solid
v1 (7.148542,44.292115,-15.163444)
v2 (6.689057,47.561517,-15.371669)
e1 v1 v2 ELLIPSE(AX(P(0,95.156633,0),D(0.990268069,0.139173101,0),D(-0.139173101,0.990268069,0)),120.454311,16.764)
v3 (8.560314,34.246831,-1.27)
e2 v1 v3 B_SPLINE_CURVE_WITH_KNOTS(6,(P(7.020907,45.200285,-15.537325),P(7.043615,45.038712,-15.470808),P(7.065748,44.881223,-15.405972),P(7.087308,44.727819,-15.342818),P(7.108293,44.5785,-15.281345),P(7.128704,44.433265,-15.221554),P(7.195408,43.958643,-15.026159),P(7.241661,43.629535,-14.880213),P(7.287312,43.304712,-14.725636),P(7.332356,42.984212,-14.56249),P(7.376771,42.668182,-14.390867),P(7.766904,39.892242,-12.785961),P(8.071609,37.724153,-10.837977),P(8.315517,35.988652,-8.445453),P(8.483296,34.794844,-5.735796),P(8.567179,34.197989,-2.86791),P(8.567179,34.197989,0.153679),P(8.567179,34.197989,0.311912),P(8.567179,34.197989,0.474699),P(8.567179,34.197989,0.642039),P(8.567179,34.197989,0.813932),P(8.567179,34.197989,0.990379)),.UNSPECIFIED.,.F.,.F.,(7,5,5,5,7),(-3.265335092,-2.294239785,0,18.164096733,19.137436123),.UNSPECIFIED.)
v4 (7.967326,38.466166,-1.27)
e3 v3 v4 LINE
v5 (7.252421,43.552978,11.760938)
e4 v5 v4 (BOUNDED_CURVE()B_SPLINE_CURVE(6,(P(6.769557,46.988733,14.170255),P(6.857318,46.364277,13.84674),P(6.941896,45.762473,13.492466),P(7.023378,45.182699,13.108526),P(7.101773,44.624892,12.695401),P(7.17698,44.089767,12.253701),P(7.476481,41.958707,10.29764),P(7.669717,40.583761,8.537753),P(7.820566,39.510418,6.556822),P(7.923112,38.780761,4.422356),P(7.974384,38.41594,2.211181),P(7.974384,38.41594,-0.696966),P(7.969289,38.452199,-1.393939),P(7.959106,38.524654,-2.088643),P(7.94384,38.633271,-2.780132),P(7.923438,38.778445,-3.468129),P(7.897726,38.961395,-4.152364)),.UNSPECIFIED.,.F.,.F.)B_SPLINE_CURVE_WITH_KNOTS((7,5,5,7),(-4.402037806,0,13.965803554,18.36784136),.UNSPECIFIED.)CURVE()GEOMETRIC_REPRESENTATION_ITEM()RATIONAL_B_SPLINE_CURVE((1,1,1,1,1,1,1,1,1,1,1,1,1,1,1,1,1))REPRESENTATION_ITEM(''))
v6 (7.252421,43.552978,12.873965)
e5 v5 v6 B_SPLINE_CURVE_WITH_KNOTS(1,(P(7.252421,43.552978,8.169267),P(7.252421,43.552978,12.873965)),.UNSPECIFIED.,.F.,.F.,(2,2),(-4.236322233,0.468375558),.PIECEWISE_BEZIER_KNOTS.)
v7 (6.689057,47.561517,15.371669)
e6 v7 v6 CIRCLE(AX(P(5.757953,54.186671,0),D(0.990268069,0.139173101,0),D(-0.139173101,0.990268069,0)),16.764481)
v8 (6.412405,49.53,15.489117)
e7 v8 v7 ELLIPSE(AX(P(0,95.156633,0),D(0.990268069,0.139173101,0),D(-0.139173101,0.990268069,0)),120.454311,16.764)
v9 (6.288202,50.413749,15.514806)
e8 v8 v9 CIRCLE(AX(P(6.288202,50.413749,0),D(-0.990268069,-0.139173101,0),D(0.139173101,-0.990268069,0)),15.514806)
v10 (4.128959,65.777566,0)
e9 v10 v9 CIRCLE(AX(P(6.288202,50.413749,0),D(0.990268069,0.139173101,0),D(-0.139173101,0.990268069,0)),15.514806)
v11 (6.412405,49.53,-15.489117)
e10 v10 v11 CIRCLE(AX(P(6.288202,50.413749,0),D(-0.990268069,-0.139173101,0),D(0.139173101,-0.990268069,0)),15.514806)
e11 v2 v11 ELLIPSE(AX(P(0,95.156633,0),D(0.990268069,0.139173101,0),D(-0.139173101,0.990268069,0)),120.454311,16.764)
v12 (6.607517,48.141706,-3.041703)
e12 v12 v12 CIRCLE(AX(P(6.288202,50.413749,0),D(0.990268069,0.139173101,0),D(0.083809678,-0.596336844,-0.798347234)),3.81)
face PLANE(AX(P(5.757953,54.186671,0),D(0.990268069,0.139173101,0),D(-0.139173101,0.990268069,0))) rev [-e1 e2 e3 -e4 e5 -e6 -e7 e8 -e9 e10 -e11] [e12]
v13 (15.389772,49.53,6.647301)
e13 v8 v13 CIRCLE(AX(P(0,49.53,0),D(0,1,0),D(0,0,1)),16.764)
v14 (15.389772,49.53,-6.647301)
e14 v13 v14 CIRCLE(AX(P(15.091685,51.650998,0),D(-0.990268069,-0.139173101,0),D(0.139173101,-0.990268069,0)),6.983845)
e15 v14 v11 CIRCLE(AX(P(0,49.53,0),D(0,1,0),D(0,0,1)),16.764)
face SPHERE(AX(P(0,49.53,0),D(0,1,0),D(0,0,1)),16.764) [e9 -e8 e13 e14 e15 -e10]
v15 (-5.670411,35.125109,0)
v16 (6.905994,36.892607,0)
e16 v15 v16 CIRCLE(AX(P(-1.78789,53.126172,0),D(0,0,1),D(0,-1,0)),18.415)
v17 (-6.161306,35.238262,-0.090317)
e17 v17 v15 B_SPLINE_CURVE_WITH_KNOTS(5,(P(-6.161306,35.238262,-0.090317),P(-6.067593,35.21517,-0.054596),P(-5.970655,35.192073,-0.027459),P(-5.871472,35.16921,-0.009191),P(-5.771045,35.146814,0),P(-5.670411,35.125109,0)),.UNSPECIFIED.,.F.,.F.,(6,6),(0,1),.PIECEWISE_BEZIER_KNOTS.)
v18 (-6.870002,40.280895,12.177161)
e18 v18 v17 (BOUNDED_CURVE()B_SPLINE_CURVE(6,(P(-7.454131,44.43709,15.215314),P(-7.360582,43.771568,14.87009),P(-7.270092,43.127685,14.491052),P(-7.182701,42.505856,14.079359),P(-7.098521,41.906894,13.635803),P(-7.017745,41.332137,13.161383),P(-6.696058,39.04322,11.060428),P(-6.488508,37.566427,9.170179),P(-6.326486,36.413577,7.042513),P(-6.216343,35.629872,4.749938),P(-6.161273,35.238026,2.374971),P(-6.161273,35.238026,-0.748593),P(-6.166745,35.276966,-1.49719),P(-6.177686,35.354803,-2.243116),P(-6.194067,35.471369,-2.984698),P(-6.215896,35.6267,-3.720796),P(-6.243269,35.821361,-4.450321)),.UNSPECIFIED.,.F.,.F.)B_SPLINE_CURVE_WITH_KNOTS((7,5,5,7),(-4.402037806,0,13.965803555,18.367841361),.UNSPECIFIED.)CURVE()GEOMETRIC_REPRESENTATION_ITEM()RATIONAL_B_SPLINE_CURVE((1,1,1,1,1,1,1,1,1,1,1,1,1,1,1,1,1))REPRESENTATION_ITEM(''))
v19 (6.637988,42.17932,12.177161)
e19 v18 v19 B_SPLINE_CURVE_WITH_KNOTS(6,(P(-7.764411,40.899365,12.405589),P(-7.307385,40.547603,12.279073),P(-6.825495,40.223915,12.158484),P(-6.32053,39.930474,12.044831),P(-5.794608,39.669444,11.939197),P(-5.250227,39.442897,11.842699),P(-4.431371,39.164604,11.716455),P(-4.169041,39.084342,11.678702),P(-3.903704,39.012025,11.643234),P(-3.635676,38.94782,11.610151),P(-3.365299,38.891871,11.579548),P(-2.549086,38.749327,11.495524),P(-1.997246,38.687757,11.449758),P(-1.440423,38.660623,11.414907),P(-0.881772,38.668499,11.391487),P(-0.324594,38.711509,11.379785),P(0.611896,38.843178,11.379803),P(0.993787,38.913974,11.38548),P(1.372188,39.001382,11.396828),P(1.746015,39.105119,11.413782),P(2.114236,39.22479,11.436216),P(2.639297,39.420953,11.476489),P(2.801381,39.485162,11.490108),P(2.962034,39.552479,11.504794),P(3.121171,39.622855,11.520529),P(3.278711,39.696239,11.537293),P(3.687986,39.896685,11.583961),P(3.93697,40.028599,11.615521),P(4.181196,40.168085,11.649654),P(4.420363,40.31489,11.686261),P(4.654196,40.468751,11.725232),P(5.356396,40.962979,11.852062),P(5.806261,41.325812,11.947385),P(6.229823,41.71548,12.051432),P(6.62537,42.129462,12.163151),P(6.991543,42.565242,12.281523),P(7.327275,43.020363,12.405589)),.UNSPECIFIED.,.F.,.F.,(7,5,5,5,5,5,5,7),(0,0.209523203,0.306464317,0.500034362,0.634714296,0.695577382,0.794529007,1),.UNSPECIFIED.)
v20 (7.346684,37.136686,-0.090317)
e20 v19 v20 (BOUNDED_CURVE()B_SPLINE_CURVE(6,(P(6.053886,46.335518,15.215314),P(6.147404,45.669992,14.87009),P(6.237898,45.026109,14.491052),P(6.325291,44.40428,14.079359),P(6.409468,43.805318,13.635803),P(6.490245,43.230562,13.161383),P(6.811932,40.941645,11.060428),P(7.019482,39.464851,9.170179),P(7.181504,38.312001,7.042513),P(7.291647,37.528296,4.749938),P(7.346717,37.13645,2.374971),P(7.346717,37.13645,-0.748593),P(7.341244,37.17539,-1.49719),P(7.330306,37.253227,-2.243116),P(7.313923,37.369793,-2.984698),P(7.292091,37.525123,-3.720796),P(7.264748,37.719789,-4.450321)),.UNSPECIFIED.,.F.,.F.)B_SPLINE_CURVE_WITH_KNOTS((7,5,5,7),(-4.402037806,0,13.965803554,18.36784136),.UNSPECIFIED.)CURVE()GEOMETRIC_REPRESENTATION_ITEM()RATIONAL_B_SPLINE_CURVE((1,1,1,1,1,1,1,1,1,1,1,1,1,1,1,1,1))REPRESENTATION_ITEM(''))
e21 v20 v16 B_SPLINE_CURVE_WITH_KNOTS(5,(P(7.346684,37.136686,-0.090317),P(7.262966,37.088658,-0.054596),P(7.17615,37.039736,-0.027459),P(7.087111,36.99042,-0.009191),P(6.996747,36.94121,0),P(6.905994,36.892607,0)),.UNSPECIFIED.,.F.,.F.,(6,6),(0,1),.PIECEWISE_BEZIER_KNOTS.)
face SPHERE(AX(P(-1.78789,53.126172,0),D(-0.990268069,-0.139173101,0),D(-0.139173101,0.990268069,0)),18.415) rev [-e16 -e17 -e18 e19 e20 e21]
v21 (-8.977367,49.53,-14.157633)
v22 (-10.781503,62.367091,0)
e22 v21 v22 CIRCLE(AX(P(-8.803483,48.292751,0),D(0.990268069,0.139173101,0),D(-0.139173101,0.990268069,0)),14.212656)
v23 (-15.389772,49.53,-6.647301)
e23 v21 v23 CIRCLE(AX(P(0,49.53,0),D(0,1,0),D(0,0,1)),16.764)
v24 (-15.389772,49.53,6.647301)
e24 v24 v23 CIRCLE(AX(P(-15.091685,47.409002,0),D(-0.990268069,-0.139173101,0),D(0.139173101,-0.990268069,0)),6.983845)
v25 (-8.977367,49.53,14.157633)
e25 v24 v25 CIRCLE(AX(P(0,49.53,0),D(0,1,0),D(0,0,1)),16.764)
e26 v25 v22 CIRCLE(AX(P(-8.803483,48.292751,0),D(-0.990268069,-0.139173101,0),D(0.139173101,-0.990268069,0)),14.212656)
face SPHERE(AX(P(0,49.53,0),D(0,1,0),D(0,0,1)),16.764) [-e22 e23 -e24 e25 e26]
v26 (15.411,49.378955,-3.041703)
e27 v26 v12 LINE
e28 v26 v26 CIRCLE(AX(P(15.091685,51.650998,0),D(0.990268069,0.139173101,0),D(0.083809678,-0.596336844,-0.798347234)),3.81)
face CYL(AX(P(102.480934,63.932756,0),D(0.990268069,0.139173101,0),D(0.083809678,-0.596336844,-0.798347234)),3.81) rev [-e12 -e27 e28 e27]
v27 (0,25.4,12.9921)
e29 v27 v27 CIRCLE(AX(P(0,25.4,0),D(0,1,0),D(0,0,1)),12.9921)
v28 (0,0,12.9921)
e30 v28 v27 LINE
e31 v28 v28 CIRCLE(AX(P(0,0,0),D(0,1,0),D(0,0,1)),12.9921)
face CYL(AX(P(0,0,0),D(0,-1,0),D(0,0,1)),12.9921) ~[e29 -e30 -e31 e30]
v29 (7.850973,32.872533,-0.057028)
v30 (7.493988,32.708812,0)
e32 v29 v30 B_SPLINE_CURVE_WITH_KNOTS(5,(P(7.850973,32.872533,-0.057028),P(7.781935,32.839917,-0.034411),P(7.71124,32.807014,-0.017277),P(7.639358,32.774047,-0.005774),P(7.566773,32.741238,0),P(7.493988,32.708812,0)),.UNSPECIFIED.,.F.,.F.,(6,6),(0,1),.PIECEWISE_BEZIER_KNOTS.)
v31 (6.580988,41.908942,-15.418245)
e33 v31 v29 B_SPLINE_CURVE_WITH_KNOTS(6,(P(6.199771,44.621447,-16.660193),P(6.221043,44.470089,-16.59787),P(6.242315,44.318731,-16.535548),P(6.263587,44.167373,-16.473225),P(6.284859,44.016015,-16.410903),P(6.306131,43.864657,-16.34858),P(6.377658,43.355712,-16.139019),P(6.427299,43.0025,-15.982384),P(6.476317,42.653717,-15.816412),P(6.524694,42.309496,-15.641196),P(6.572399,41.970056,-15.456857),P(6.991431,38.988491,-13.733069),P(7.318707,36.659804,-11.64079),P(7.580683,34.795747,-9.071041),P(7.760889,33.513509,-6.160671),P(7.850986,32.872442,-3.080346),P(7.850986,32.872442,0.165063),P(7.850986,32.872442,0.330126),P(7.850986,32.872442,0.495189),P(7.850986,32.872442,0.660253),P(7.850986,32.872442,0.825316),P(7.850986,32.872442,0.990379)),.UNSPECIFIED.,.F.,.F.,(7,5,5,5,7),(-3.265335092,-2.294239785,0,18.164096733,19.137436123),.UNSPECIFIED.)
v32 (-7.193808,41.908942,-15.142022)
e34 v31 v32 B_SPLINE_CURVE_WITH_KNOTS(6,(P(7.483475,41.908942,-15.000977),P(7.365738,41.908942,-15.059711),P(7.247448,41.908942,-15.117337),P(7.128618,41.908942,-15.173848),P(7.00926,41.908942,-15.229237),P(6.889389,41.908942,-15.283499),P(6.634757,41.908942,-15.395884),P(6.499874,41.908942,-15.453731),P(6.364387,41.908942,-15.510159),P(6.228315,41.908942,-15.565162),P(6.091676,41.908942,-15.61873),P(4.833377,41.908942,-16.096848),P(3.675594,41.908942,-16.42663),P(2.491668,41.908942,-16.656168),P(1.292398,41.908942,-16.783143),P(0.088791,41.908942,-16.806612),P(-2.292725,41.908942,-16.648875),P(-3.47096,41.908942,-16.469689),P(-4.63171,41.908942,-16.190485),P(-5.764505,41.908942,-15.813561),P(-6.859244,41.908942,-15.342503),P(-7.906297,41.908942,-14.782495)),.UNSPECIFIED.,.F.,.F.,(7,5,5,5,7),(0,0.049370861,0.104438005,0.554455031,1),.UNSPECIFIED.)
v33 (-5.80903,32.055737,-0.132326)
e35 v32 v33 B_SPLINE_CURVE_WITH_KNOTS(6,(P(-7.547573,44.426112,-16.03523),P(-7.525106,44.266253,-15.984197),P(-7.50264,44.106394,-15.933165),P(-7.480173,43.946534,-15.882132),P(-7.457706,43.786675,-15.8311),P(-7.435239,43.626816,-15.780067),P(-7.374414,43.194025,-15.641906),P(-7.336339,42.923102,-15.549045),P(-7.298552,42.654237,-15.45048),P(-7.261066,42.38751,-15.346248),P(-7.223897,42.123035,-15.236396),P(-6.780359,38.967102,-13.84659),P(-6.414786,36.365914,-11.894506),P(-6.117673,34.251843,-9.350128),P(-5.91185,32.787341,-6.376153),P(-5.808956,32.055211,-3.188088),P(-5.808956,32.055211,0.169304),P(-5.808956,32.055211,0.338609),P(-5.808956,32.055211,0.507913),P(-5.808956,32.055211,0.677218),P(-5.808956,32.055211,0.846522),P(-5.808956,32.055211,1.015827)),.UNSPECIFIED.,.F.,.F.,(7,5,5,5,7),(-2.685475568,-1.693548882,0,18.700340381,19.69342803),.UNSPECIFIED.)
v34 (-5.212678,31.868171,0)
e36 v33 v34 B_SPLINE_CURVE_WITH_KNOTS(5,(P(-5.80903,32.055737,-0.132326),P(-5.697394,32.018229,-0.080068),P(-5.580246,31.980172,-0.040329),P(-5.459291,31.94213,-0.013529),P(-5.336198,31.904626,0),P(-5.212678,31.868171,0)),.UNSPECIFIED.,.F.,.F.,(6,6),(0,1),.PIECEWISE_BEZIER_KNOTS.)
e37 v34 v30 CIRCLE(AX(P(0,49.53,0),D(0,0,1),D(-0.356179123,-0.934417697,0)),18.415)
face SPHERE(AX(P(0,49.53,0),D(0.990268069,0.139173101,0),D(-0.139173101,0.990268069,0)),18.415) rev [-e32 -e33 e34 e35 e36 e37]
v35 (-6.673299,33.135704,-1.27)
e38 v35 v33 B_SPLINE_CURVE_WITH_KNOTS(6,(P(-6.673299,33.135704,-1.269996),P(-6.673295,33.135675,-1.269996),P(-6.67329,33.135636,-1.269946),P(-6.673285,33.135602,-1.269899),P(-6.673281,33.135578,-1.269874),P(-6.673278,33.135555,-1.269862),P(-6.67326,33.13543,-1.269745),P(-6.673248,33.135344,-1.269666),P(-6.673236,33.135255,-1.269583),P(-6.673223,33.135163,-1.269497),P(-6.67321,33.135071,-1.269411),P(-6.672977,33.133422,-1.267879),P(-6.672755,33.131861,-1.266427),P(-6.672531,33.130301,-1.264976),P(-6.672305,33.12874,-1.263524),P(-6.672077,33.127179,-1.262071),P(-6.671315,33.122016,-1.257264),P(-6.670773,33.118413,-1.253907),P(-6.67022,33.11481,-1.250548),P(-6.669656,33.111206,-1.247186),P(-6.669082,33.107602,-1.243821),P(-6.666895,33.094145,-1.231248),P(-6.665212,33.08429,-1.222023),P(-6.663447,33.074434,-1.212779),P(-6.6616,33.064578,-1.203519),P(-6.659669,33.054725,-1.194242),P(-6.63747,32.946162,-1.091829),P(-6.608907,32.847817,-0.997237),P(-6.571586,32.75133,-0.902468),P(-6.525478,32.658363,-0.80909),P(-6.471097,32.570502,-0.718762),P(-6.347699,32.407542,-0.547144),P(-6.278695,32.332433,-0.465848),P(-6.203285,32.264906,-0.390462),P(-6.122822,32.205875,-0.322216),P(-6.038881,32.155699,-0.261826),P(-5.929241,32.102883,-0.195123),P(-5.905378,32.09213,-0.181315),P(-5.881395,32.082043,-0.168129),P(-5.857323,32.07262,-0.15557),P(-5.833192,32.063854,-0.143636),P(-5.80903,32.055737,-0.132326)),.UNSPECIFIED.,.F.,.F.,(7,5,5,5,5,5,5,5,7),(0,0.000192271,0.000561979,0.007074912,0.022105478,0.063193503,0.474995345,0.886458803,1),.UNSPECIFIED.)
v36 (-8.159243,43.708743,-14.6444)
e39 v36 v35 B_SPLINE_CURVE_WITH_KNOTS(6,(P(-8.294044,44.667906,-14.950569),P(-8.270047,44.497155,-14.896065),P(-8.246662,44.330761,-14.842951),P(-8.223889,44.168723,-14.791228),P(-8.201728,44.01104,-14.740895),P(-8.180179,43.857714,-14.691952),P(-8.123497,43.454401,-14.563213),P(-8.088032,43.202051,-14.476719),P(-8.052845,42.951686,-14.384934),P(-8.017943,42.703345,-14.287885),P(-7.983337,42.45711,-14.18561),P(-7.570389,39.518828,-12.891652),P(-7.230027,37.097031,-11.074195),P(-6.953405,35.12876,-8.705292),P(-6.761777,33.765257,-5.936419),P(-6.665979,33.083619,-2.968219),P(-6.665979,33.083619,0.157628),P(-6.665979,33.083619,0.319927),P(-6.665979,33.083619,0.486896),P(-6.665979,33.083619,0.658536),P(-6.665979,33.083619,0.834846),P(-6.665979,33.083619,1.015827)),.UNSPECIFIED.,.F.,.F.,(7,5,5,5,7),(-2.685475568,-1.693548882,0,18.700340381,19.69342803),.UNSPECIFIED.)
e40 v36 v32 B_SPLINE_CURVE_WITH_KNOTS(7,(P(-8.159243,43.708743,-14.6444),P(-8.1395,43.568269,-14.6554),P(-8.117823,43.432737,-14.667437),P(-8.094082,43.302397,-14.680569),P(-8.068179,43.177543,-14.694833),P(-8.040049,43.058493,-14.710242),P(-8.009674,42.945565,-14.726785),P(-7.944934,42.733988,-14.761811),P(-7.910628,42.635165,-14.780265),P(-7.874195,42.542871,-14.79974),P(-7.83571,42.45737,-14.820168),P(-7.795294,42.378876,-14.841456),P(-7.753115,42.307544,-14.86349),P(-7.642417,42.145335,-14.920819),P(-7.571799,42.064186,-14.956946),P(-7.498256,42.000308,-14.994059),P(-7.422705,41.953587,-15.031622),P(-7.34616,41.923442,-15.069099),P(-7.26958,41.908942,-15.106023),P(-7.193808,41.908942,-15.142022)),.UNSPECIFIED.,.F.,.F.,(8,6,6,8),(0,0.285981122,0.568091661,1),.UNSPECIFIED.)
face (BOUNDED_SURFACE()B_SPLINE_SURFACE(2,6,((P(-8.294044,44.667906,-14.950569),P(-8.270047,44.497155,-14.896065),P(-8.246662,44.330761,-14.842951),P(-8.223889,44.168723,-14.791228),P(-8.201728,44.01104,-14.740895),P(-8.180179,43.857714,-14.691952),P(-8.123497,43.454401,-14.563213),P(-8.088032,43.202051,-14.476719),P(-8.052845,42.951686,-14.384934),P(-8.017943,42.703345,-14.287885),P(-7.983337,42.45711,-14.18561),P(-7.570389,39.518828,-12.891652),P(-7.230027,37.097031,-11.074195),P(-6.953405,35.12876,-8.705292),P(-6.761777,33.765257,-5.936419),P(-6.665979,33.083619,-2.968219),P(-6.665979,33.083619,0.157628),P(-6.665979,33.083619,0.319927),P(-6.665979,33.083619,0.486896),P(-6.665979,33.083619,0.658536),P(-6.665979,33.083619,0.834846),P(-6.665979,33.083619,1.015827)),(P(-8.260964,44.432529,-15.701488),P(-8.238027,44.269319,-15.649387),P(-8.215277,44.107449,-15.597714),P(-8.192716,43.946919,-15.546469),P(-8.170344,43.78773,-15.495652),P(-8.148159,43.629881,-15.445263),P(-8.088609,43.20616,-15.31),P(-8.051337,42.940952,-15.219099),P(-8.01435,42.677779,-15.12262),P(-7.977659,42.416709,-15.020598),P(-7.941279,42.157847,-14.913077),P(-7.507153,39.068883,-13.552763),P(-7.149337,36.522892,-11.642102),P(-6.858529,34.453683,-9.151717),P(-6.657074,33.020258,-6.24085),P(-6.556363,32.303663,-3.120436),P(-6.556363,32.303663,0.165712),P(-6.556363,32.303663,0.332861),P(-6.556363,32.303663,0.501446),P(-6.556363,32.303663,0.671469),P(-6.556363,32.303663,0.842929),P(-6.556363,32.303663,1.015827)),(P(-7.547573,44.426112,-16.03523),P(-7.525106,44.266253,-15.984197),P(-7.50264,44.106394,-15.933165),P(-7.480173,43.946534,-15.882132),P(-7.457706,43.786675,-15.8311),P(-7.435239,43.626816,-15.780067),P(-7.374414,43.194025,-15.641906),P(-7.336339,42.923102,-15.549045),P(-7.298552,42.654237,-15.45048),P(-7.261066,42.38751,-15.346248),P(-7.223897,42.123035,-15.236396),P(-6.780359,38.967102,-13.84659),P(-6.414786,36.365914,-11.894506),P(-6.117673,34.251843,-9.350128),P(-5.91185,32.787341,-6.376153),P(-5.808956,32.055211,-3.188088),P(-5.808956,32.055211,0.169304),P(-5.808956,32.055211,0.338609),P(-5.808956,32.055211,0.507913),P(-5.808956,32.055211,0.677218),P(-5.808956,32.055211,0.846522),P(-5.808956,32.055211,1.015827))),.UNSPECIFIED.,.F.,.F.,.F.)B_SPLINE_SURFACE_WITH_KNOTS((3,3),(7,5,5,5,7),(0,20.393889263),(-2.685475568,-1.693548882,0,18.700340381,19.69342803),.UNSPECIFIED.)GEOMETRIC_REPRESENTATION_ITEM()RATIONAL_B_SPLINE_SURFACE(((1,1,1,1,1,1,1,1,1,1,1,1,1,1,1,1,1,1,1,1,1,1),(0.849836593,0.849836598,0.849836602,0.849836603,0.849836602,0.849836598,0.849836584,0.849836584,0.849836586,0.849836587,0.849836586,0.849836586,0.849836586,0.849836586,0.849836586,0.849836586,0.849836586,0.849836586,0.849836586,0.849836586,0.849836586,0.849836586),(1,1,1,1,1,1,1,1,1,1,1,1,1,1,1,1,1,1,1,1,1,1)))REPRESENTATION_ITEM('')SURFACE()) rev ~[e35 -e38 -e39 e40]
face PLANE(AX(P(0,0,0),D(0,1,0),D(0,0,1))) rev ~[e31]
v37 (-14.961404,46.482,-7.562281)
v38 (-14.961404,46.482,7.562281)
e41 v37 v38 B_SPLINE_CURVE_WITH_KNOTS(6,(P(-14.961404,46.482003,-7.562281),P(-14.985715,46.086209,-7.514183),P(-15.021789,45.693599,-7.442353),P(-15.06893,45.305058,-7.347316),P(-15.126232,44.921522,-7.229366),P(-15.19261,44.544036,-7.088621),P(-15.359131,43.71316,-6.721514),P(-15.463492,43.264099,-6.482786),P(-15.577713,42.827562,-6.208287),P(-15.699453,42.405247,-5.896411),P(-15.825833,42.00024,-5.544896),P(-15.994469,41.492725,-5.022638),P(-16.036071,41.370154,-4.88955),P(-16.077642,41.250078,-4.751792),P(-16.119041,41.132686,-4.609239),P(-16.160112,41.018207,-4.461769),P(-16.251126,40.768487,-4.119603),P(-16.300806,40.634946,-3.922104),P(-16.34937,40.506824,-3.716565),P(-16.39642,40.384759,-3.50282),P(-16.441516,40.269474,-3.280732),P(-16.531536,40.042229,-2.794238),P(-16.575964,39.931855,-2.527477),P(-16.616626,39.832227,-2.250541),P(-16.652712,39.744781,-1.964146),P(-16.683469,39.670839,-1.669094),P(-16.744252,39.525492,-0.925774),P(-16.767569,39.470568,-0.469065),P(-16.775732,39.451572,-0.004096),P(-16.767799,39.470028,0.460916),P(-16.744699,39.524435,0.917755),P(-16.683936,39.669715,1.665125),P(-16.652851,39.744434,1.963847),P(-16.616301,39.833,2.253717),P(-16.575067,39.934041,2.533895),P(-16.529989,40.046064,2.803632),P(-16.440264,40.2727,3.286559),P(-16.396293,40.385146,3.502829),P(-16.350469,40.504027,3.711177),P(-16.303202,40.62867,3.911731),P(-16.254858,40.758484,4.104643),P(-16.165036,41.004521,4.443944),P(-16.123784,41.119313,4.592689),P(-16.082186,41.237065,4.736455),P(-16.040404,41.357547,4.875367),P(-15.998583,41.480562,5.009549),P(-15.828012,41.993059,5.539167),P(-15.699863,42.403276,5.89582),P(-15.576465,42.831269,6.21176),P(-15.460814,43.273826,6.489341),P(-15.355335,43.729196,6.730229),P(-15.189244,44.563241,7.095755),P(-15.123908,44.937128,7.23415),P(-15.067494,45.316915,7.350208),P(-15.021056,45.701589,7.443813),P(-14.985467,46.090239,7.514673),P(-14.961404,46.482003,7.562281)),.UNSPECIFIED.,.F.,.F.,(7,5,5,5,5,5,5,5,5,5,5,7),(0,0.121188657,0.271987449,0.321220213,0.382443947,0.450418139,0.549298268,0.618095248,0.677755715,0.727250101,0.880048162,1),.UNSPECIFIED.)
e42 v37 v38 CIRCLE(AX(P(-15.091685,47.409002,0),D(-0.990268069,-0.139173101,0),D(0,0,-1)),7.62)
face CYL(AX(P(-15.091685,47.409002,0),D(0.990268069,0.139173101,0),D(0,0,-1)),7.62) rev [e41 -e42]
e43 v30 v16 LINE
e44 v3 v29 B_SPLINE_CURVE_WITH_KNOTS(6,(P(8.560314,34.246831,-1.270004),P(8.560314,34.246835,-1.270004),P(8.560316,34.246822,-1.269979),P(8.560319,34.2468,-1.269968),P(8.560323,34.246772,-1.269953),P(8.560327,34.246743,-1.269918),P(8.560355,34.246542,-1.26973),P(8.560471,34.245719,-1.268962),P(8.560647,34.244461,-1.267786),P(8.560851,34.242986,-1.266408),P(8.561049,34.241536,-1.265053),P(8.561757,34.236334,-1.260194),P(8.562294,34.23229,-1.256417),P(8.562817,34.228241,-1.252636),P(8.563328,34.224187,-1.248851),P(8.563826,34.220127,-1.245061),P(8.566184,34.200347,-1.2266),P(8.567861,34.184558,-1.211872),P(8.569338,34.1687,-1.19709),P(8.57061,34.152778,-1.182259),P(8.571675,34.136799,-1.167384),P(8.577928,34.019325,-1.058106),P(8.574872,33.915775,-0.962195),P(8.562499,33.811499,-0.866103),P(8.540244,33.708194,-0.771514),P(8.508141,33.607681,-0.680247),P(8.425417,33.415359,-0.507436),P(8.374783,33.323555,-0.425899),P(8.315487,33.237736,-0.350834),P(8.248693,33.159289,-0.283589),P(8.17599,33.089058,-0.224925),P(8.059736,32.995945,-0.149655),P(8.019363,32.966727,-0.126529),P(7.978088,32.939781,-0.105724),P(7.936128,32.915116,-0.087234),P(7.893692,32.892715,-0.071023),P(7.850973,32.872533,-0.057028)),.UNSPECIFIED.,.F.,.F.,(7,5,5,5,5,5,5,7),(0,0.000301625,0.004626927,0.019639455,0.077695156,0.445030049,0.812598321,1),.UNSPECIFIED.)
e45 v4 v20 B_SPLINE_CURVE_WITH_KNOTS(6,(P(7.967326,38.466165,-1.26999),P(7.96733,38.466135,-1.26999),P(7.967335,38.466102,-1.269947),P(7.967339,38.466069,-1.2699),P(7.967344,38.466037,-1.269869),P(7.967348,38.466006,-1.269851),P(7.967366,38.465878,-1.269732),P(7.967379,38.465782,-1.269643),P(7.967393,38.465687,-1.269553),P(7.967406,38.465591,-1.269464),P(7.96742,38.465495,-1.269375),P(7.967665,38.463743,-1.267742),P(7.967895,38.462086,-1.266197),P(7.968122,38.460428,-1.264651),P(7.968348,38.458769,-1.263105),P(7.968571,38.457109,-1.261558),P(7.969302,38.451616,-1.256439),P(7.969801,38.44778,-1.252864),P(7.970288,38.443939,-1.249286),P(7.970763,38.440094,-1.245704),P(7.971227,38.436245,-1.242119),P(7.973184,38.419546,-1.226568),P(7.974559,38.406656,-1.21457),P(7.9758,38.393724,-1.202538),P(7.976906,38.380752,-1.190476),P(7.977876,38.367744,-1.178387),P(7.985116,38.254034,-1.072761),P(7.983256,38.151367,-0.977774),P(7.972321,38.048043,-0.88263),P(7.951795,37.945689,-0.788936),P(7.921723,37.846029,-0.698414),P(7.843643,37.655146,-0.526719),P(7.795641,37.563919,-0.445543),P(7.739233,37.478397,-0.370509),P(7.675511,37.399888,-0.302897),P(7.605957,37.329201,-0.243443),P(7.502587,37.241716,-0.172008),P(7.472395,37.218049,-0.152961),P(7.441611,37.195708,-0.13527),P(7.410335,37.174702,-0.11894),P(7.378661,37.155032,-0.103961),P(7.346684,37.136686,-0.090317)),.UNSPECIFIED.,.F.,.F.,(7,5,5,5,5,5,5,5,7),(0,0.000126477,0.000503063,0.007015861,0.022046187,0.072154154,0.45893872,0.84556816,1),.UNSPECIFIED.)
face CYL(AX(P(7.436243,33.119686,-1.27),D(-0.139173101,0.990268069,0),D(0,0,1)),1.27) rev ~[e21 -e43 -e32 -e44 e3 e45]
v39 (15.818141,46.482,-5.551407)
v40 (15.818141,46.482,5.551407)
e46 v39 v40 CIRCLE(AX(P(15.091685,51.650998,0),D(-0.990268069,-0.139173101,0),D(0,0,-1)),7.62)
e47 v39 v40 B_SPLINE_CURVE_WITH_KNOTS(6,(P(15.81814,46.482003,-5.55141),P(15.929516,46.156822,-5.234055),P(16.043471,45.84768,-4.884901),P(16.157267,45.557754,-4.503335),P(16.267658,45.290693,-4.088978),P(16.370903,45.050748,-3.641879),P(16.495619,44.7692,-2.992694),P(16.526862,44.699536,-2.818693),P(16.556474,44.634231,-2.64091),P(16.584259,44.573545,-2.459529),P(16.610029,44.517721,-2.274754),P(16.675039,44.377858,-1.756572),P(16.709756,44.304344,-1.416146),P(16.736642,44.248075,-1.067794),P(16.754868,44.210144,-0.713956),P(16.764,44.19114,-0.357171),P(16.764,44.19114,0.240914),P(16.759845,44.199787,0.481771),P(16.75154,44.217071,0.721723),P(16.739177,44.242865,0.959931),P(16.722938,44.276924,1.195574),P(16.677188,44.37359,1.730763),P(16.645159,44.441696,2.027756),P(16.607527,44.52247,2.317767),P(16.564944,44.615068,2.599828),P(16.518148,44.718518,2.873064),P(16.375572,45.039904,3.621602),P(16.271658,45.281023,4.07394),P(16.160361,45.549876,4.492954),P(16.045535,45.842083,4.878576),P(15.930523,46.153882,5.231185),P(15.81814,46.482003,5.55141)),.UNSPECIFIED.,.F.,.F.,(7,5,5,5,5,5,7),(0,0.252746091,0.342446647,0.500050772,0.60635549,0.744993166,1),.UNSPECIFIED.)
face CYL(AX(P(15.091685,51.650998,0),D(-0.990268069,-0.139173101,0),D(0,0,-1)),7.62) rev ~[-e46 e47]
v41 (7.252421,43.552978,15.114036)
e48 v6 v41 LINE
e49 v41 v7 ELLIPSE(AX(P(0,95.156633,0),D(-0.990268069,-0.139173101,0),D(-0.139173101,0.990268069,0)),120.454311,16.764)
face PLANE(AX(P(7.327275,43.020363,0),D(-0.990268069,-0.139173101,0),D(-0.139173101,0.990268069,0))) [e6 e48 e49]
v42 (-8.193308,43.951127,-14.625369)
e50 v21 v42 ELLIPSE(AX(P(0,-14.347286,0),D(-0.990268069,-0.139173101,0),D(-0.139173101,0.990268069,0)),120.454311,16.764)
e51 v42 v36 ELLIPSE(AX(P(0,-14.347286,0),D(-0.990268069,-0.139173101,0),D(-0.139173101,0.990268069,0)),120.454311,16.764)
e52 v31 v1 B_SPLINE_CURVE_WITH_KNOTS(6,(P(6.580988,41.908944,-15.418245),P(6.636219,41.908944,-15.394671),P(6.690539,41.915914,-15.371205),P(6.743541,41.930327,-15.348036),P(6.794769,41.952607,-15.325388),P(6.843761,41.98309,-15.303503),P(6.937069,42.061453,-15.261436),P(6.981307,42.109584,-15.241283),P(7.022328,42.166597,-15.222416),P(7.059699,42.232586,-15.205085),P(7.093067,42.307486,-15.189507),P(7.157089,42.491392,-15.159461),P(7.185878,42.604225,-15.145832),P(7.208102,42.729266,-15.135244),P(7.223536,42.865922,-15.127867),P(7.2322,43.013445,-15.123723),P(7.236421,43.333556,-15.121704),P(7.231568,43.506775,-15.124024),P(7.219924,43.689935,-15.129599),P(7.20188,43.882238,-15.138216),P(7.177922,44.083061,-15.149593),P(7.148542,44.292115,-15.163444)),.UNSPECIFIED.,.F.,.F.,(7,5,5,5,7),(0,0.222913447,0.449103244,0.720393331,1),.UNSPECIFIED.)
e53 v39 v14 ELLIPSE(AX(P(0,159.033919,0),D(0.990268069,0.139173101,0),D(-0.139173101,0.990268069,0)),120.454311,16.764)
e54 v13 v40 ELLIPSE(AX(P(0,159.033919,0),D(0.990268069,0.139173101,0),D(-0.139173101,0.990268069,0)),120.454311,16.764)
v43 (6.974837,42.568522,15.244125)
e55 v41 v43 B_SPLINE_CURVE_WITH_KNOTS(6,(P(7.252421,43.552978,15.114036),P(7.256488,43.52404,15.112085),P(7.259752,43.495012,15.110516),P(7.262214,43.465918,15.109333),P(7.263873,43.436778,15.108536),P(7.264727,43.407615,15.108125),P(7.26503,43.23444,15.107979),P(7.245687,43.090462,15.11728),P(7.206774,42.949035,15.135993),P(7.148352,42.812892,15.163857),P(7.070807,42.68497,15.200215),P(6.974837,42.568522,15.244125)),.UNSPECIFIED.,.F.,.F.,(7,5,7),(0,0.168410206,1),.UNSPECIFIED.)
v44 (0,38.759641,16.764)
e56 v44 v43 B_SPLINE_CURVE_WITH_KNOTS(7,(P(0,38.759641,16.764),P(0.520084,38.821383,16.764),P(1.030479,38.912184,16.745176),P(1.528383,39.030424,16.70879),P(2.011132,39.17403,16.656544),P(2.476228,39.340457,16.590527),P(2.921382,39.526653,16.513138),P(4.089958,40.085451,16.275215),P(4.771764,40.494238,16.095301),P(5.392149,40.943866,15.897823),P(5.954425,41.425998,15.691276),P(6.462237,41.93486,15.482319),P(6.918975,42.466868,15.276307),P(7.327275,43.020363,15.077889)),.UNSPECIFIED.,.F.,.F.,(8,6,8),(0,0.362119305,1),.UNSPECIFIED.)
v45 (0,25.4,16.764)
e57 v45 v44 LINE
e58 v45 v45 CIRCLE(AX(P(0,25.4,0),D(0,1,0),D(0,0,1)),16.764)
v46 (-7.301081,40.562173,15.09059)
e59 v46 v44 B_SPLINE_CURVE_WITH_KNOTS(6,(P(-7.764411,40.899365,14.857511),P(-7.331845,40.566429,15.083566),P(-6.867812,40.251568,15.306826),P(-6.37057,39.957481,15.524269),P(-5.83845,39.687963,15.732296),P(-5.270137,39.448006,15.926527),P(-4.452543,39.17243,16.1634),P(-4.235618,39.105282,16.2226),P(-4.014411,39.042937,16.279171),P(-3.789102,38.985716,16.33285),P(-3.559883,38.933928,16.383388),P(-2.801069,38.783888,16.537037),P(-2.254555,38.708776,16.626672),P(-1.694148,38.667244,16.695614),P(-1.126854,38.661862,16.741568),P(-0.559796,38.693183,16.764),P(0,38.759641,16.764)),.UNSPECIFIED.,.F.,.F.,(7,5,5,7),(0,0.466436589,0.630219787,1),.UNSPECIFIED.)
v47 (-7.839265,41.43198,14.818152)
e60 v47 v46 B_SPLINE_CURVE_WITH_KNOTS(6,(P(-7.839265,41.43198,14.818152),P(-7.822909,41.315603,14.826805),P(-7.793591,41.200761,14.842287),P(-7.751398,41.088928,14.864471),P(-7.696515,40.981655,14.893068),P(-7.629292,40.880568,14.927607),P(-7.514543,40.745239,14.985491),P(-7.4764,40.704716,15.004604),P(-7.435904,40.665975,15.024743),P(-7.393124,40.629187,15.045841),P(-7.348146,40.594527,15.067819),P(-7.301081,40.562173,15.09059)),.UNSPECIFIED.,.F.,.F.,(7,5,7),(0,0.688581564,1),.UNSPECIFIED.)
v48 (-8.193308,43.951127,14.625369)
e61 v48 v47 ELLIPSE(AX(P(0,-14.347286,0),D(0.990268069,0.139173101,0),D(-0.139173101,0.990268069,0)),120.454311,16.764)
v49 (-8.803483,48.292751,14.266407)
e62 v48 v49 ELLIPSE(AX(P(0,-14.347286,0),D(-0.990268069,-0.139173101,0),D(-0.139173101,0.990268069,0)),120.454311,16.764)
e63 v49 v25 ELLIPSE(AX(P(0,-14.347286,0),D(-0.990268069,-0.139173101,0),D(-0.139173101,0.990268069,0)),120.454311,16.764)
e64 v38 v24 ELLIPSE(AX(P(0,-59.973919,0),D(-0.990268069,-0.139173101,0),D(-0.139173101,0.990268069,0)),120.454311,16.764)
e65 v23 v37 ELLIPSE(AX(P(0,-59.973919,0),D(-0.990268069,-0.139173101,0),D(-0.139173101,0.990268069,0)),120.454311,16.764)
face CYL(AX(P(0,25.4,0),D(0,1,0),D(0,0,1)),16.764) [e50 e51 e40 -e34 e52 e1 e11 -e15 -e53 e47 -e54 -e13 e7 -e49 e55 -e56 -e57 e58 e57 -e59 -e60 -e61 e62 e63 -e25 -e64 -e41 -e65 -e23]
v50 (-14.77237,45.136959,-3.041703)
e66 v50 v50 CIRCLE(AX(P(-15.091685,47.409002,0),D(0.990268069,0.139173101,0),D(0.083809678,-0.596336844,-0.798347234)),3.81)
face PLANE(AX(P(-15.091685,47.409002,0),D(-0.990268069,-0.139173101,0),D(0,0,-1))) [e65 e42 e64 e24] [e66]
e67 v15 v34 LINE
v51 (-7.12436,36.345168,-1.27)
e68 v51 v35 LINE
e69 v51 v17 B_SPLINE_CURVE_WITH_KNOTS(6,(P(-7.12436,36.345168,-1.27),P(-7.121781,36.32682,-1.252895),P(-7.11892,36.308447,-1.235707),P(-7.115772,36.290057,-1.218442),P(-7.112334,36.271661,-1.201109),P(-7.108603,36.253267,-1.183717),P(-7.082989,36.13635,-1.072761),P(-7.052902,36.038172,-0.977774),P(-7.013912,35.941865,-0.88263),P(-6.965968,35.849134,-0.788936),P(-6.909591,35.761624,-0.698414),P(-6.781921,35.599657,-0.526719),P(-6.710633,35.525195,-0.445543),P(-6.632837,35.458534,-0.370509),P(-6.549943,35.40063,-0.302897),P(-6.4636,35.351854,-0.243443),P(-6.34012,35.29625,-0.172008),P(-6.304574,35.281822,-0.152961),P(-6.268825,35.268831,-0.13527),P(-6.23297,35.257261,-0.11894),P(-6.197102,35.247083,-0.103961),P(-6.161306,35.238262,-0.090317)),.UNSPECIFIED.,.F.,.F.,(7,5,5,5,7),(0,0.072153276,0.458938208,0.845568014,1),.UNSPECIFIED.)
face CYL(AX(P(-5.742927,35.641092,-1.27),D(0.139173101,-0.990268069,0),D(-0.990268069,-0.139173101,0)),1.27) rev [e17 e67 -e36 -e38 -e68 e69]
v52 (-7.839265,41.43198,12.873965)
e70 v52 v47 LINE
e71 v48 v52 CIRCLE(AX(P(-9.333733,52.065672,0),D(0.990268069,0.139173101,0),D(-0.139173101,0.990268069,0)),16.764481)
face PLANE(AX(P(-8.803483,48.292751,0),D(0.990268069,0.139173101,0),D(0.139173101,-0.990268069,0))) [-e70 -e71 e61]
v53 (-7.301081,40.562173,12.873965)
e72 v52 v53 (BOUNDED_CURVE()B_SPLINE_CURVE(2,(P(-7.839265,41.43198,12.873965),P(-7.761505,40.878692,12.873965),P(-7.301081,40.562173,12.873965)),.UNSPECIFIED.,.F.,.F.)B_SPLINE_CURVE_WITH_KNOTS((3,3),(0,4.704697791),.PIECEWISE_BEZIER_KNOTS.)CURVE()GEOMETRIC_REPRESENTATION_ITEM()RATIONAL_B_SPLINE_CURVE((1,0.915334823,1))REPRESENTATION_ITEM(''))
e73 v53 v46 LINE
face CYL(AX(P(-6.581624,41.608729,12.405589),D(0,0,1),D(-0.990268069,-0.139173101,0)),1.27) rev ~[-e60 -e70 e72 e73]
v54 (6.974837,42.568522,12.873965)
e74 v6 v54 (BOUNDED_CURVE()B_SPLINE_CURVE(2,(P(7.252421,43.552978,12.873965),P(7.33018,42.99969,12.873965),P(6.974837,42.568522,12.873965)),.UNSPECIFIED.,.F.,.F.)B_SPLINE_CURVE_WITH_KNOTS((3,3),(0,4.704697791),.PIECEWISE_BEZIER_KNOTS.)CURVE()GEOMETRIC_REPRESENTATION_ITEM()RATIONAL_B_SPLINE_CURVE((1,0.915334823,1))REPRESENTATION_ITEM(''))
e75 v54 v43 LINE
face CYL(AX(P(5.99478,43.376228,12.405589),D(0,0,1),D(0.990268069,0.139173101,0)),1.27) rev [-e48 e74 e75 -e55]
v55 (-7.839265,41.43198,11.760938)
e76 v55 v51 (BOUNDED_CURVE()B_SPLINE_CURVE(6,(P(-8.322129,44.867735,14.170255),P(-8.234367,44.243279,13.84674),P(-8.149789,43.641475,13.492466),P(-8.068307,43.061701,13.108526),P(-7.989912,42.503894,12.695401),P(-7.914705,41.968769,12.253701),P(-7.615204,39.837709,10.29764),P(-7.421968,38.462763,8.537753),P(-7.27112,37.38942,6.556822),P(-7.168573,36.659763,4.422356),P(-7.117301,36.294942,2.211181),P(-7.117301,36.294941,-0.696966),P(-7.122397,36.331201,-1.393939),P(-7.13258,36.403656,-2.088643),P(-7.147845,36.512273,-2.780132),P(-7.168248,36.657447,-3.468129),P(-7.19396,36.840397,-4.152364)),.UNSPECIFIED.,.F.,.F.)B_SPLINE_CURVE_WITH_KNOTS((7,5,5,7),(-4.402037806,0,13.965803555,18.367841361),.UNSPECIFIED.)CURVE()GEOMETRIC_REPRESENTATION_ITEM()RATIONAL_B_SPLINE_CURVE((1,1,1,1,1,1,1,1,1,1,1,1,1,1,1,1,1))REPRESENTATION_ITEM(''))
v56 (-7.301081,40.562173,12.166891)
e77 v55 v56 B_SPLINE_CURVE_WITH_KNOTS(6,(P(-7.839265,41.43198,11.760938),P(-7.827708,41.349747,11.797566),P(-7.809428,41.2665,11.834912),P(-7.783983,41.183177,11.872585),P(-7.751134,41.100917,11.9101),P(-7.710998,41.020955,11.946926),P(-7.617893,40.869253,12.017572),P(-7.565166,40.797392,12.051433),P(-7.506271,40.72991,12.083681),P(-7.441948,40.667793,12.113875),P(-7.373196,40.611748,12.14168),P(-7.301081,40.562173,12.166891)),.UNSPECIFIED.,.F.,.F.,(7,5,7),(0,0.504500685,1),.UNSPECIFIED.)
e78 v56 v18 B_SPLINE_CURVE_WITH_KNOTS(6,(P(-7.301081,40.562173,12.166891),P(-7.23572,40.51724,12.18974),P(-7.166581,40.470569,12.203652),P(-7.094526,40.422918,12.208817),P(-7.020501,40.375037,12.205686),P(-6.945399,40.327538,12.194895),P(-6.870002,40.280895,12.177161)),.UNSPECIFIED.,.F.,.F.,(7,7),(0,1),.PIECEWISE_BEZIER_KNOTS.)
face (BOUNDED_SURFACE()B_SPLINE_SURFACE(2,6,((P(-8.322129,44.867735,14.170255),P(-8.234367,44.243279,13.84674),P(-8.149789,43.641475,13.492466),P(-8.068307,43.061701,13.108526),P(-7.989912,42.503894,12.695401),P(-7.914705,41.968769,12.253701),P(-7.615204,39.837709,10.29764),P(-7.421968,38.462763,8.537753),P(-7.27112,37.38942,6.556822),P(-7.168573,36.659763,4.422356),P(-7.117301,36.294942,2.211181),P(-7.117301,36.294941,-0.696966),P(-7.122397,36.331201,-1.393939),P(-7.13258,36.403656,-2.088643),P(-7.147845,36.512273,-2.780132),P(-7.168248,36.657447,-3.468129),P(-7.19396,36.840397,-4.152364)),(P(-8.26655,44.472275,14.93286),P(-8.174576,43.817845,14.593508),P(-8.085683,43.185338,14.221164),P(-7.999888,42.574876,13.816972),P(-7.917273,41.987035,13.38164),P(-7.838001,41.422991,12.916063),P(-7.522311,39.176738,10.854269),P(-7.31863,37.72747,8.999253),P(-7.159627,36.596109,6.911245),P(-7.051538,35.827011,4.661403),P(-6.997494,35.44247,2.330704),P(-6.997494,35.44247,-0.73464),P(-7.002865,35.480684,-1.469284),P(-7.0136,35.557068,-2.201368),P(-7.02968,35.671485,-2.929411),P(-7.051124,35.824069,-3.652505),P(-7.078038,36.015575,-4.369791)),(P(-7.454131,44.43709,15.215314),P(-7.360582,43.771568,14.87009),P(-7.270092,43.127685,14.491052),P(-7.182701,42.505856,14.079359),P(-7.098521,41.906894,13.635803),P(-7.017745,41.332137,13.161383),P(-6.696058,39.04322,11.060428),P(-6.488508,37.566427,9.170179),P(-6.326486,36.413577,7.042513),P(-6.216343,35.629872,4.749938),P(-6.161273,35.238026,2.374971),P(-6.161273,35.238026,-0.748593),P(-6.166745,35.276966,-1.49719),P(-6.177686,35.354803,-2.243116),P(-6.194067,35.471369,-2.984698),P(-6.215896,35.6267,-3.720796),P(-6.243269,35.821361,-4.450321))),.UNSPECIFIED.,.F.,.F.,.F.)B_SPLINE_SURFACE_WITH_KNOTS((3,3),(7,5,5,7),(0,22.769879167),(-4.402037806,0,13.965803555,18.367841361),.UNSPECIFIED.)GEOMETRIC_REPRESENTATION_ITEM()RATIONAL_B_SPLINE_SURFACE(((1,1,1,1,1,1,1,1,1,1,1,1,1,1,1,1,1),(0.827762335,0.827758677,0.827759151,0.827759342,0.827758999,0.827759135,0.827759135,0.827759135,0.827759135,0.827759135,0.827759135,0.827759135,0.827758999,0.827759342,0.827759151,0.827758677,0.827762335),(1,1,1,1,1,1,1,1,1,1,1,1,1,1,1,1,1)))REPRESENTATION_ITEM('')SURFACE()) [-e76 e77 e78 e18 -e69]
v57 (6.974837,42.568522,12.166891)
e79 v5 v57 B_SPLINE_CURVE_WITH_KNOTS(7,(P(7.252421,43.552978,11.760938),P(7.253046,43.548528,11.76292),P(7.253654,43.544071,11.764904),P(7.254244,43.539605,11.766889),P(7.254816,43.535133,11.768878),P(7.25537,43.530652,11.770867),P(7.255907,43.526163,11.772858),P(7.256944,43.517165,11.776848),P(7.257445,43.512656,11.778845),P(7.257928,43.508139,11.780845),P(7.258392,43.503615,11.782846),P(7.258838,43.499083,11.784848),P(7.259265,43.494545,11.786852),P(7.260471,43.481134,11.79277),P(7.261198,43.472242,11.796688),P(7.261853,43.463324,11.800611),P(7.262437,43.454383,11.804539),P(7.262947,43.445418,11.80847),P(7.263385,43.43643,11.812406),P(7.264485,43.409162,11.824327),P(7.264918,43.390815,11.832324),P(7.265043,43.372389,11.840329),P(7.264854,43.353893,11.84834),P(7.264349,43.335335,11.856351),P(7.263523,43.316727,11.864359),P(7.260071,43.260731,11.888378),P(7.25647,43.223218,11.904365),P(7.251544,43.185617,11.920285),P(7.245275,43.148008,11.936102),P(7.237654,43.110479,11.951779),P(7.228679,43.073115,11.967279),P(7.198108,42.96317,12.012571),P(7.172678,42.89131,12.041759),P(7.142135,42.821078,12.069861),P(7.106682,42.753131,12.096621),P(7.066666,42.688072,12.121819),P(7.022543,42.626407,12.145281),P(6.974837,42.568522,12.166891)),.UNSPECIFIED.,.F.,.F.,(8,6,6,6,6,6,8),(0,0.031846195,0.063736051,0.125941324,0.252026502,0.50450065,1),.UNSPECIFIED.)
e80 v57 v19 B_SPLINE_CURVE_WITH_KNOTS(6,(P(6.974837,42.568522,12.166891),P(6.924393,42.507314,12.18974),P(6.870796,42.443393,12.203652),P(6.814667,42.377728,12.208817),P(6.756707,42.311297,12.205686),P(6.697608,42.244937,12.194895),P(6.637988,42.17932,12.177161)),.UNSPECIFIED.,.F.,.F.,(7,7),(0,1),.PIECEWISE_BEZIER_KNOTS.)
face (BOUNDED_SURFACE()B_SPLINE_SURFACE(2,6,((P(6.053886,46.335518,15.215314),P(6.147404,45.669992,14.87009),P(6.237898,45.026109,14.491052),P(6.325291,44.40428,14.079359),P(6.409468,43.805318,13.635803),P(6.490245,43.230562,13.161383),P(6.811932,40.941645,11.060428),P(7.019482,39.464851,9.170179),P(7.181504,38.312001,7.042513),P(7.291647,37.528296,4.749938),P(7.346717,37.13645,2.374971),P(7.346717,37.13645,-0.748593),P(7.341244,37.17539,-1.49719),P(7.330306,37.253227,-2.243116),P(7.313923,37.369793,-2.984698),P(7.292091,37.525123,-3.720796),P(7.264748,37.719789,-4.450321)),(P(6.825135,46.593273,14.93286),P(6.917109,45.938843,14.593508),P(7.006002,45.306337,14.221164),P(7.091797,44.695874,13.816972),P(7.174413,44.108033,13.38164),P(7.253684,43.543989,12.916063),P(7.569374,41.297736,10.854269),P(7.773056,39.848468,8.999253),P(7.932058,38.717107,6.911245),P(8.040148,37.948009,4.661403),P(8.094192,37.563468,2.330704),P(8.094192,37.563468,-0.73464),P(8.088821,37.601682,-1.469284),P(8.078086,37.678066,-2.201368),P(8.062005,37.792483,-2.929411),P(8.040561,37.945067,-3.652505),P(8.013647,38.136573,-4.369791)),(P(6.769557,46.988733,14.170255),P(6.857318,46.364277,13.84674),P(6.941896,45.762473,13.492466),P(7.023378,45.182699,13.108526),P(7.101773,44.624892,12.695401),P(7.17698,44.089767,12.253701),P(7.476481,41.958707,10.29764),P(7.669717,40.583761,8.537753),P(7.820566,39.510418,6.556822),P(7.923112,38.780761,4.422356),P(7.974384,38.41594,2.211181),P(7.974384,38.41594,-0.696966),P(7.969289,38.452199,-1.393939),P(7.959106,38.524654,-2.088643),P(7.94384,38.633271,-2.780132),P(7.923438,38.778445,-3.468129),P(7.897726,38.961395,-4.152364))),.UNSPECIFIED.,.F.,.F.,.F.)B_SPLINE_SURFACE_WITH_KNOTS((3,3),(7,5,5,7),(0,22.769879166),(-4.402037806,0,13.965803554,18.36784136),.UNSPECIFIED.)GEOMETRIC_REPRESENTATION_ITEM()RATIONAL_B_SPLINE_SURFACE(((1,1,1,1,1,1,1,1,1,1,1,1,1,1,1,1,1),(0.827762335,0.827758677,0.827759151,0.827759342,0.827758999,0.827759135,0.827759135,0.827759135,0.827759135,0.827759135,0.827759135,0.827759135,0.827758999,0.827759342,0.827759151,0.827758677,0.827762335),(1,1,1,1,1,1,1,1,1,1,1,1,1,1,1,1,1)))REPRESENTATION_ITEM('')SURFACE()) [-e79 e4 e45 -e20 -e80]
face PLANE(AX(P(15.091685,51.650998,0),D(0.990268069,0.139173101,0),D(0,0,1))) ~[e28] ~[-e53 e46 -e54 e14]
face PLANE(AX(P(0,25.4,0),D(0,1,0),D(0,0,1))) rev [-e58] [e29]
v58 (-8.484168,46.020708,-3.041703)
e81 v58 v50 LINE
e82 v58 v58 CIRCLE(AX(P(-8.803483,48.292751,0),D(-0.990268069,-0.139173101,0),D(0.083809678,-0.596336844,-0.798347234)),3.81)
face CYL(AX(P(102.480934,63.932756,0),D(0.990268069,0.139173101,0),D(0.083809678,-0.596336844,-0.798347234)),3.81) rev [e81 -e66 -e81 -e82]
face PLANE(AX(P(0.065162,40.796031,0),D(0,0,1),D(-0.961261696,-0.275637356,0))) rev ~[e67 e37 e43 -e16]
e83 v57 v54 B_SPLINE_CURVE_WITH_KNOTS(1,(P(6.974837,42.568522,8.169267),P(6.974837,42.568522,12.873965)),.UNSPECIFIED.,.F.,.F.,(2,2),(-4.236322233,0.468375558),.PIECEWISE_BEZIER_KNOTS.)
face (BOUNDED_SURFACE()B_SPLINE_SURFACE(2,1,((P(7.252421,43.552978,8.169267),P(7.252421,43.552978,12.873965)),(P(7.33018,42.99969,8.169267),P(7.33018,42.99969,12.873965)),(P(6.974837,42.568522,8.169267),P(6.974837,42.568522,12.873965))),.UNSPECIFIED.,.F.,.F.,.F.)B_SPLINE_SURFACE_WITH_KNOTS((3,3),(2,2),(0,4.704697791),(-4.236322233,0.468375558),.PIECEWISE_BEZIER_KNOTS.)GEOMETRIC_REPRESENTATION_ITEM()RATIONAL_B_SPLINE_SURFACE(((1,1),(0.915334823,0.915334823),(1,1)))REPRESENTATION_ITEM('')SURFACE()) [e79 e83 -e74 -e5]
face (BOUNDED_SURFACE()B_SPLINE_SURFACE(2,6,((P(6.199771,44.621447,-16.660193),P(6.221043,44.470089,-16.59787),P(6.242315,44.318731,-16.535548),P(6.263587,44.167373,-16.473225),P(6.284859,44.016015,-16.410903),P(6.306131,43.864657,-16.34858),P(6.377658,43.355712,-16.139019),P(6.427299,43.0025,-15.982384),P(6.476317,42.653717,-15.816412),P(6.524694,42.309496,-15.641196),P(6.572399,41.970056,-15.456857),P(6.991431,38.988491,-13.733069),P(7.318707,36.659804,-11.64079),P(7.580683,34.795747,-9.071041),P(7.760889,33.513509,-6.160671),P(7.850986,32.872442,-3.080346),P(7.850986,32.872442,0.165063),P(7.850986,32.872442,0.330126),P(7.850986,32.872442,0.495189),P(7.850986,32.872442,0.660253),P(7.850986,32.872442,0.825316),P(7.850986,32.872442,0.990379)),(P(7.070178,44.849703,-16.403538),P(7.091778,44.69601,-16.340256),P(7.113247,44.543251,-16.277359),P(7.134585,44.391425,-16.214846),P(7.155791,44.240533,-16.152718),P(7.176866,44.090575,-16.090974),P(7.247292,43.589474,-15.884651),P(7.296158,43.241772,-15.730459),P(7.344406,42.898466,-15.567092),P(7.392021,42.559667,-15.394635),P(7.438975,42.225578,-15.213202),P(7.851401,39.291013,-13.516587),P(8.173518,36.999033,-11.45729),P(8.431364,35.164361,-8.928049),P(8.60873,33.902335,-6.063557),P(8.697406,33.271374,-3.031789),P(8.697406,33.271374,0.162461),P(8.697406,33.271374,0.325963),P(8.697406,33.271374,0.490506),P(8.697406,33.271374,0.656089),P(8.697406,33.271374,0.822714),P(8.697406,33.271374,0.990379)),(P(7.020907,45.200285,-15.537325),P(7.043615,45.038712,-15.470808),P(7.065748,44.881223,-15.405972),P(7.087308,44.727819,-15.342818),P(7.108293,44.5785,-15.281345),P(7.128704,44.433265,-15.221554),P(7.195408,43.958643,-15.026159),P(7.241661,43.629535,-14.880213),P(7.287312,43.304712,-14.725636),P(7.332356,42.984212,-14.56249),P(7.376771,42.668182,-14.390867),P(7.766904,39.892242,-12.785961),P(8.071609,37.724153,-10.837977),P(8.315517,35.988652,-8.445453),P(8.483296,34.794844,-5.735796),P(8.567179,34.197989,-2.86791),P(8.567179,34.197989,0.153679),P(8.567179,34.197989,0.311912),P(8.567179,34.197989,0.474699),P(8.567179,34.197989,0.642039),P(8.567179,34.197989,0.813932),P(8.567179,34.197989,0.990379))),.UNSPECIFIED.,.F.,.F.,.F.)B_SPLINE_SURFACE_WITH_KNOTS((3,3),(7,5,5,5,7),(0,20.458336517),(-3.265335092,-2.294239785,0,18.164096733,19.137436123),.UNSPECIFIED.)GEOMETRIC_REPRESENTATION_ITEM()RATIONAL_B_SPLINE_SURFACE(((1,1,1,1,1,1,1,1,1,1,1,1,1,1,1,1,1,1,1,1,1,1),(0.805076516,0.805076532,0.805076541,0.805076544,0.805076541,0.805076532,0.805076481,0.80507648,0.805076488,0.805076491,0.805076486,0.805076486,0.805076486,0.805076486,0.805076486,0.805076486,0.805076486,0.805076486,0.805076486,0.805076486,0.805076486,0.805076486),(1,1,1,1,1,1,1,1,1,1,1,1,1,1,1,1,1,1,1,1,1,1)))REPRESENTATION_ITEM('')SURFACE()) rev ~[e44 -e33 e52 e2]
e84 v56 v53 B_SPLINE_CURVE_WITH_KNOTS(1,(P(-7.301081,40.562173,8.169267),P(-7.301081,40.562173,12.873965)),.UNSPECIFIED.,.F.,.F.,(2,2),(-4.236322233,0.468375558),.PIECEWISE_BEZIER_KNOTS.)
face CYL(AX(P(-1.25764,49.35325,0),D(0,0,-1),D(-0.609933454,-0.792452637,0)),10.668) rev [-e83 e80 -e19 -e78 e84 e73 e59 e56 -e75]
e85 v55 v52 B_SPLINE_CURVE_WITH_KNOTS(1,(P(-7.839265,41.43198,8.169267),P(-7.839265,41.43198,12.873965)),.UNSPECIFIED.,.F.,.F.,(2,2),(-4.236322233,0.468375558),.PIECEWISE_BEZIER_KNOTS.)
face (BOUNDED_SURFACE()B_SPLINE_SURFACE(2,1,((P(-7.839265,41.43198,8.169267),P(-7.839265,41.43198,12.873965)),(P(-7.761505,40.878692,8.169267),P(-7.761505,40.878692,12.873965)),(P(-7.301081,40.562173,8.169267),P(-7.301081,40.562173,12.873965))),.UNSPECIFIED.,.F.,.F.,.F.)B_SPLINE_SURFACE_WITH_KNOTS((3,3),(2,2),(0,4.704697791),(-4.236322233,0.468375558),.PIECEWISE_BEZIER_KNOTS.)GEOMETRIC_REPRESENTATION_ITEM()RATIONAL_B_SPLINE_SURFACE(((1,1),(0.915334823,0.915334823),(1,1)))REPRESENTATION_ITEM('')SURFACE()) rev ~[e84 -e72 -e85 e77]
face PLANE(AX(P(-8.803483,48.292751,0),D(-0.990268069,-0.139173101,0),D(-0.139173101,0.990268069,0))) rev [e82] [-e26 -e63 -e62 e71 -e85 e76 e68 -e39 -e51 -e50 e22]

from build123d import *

# Parameters (mm, degrees)
SKETCH1_R                     = 12.9921
BOSS_EXTRUDE1_DEPTH           = 25.4
CUT_EXTRUDE1_DEPTH            = 103.48807232
CUT_EXTRUDE1_DEPTH_BACK       = 103.48807232
SKETCH3_R                     = 3.81
CUT_REVOLVE10_ANGLE           = 180
CUT_REVOLVE10_OTHER_WAY_ANGLE = 90
CUT_EXTRUDE4_DEPTH            = 32.004
FILLET1_R                     = 1.27
SKETCH15_R                    = 7.62
CUT_EXTRUDE5_DEPTH            = 10.16


with BuildPart() as part:
    # Sketch1 → Boss-Extrude1 (new body)
    with BuildSketch(Plane(origin=(0, 0, 0), x_dir=(1, 0, 0), z_dir=(0, 1, 0))):
        Circle(SKETCH1_R)
    extrude(amount=BOSS_EXTRUDE1_DEPTH)

    # Sketch2 → Revolve1 (revolve)
    with BuildSketch(Plane(origin=(0, 0, 0), x_dir=(0, 0, -1), z_dir=(1, 0, 0))):
        with BuildLine():
            Line((-16.764, 25.4), (-16.764, 49.53))
            ThreePointArc((-16.764, 49.53), (-11.85393808, 61.38393808), (0, 66.294))
            Line((0, 66.294), (0, 25.4))
            Line((0, 25.4), (-16.764, 25.4))
        make_face()
    revolve(axis=Axis((0, 25.4, 0), (0, 1, 0)))

    # Sketch3 → Cut-Extrude1 (cut, two sides: drawn at the far end of the back side and taken through both)
    with BuildSketch(Plane(origin=(-6.855604404, 98.310160002, 0), x_dir=(0, 0, -1), z_dir=(-0.9902680687415708, -0.1391731009600624, 0)).offset(-CUT_EXTRUDE1_DEPTH_BACK)):
        with Locations((0, 49.259550562)):
            Circle(SKETCH3_R)
    extrude(amount=CUT_EXTRUDE1_DEPTH + CUT_EXTRUDE1_DEPTH_BACK, mode=Mode.SUBTRACT)

    # Sketch11 → Cut-Revolve10 (revolve, cut)
    with BuildSketch(Plane.XY):
        with BuildLine():
            Line((-8.803483131, 48.292751132), (-11.047927713, 64.262804154))
            ThreePointArc((-11.047927713, 64.262804154), (-3.937784002, 67.51905451), (3.88252071, 67.531062689))
            Line((3.88252071, 67.531062689), (6.288202237, 50.413749191))
            Line((6.288202237, 50.413749191), (-8.803483131, 48.292751132))
        make_face()
    revolve(axis=Axis((17.272404581, 51.957478157, 0), (-0.9902680687415708, -0.1391731009600623, 0)), revolution_arc=CUT_REVOLVE10_ANGLE, mode=Mode.SUBTRACT)

    # Sketch11 → Cut-Revolve10 other way (revolve, cut)
    with BuildSketch(Plane.XY):
        with BuildLine():
            Line((-8.803483131, 48.292751132), (-11.047927713, 64.262804154))
            ThreePointArc((-11.047927713, 64.262804154), (-3.937784002, 67.51905451), (3.88252071, 67.531062689))
            Line((3.88252071, 67.531062689), (6.288202237, 50.413749191))
            Line((6.288202237, 50.413749191), (-8.803483131, 48.292751132))
        make_face()
    revolve(axis=Axis((17.272404581, 51.957478157, 0), (0.9902680687415708, 0.1391731009600623, 0)), revolution_arc=CUT_REVOLVE10_OTHER_WAY_ANGLE, mode=Mode.SUBTRACT)

    # Sketch13 → Cut-Revolve11 (revolve, cut)
    with BuildSketch(Plane.XY):
        with BuildLine():
            Line((-9.333732646, 52.065672474), (5.757952722, 54.186670533))
            Line((5.757952722, 54.186670533), (3.424787908, 70.78800081))
            ThreePointArc((3.424787908, 70.78800081), (-4.350762616, 71.36195799), (-11.66689746, 68.667002751))
            Line((-11.66689746, 68.667002751), (-9.333732646, 52.065672474))
        make_face()
    revolve(axis=Axis((-9.333732646, 52.065672474, 0), (0.9902680687415707, 0.13917310096006275, 0)), mode=Mode.SUBTRACT)

    # Sketch14 → Cut-Extrude4 (cut)
    with BuildSketch(Plane.XY):
        with BuildLine():
            Line((-8.803483131, 48.292751132), (-7.764410533, 40.899365431))
            ThreePointArc((-7.764410533, 40.899365431), (0.227058194, 38.789070404), (7.327274834, 43.020363489))
            Line((7.327274834, 43.020363489), (6.288202237, 50.413749191))
            Line((6.288202237, 50.413749191), (-8.803483131, 48.292751132))
        make_face()
    extrude(amount=CUT_EXTRUDE4_DEPTH, mode=Mode.SUBTRACT)

    # Fillet1
    fillet1_edges = [part.edges().sort_by_distance(p)[0] for p in [
        (-6.92582295, 34.932504728, -8.835062719),
        (-6.77980319, 33.893520154, 0),
        (-7.200056805, 36.883780001, 6.782727573),
        (-7.764410533, 40.899365431, 13.631549898),
        (7.327274834, 43.020363489, 13.74173908),
        (7.891628562, 39.00477806, 6.782727573),
        (8.39250065, 35.440887975, 0),
        (8.369397705, 35.60527397, -8.669914189),
    ]]
    fillet(fillet1_edges, radius=FILLET1_R)

    # Sketch15 → Cut-Extrude5 (cut)
    with BuildSketch(Plane(origin=(-8.265526251, -1.161643959, 0), x_dir=(0, 0, -1), z_dir=(-0.9902680687415708, -0.1391731009600624, 0))):
        with Locations((0, -49.047977445)):
            Circle(SKETCH15_R)
    cut_extrude5 = extrude(amount=CUT_EXTRUDE5_DEPTH, mode=Mode.SUBTRACT)

    # Mirror1: Cut-Extrude5 across plane
    add(cut_extrude5.mirror(Plane(origin=(6.826159117, 0.9593541, 0), x_dir=(0, 0, 1), z_dir=(-0.9902680687415707, -0.13917310096006238, 0))), mode=Mode.SUBTRACT)


solid = part.part
